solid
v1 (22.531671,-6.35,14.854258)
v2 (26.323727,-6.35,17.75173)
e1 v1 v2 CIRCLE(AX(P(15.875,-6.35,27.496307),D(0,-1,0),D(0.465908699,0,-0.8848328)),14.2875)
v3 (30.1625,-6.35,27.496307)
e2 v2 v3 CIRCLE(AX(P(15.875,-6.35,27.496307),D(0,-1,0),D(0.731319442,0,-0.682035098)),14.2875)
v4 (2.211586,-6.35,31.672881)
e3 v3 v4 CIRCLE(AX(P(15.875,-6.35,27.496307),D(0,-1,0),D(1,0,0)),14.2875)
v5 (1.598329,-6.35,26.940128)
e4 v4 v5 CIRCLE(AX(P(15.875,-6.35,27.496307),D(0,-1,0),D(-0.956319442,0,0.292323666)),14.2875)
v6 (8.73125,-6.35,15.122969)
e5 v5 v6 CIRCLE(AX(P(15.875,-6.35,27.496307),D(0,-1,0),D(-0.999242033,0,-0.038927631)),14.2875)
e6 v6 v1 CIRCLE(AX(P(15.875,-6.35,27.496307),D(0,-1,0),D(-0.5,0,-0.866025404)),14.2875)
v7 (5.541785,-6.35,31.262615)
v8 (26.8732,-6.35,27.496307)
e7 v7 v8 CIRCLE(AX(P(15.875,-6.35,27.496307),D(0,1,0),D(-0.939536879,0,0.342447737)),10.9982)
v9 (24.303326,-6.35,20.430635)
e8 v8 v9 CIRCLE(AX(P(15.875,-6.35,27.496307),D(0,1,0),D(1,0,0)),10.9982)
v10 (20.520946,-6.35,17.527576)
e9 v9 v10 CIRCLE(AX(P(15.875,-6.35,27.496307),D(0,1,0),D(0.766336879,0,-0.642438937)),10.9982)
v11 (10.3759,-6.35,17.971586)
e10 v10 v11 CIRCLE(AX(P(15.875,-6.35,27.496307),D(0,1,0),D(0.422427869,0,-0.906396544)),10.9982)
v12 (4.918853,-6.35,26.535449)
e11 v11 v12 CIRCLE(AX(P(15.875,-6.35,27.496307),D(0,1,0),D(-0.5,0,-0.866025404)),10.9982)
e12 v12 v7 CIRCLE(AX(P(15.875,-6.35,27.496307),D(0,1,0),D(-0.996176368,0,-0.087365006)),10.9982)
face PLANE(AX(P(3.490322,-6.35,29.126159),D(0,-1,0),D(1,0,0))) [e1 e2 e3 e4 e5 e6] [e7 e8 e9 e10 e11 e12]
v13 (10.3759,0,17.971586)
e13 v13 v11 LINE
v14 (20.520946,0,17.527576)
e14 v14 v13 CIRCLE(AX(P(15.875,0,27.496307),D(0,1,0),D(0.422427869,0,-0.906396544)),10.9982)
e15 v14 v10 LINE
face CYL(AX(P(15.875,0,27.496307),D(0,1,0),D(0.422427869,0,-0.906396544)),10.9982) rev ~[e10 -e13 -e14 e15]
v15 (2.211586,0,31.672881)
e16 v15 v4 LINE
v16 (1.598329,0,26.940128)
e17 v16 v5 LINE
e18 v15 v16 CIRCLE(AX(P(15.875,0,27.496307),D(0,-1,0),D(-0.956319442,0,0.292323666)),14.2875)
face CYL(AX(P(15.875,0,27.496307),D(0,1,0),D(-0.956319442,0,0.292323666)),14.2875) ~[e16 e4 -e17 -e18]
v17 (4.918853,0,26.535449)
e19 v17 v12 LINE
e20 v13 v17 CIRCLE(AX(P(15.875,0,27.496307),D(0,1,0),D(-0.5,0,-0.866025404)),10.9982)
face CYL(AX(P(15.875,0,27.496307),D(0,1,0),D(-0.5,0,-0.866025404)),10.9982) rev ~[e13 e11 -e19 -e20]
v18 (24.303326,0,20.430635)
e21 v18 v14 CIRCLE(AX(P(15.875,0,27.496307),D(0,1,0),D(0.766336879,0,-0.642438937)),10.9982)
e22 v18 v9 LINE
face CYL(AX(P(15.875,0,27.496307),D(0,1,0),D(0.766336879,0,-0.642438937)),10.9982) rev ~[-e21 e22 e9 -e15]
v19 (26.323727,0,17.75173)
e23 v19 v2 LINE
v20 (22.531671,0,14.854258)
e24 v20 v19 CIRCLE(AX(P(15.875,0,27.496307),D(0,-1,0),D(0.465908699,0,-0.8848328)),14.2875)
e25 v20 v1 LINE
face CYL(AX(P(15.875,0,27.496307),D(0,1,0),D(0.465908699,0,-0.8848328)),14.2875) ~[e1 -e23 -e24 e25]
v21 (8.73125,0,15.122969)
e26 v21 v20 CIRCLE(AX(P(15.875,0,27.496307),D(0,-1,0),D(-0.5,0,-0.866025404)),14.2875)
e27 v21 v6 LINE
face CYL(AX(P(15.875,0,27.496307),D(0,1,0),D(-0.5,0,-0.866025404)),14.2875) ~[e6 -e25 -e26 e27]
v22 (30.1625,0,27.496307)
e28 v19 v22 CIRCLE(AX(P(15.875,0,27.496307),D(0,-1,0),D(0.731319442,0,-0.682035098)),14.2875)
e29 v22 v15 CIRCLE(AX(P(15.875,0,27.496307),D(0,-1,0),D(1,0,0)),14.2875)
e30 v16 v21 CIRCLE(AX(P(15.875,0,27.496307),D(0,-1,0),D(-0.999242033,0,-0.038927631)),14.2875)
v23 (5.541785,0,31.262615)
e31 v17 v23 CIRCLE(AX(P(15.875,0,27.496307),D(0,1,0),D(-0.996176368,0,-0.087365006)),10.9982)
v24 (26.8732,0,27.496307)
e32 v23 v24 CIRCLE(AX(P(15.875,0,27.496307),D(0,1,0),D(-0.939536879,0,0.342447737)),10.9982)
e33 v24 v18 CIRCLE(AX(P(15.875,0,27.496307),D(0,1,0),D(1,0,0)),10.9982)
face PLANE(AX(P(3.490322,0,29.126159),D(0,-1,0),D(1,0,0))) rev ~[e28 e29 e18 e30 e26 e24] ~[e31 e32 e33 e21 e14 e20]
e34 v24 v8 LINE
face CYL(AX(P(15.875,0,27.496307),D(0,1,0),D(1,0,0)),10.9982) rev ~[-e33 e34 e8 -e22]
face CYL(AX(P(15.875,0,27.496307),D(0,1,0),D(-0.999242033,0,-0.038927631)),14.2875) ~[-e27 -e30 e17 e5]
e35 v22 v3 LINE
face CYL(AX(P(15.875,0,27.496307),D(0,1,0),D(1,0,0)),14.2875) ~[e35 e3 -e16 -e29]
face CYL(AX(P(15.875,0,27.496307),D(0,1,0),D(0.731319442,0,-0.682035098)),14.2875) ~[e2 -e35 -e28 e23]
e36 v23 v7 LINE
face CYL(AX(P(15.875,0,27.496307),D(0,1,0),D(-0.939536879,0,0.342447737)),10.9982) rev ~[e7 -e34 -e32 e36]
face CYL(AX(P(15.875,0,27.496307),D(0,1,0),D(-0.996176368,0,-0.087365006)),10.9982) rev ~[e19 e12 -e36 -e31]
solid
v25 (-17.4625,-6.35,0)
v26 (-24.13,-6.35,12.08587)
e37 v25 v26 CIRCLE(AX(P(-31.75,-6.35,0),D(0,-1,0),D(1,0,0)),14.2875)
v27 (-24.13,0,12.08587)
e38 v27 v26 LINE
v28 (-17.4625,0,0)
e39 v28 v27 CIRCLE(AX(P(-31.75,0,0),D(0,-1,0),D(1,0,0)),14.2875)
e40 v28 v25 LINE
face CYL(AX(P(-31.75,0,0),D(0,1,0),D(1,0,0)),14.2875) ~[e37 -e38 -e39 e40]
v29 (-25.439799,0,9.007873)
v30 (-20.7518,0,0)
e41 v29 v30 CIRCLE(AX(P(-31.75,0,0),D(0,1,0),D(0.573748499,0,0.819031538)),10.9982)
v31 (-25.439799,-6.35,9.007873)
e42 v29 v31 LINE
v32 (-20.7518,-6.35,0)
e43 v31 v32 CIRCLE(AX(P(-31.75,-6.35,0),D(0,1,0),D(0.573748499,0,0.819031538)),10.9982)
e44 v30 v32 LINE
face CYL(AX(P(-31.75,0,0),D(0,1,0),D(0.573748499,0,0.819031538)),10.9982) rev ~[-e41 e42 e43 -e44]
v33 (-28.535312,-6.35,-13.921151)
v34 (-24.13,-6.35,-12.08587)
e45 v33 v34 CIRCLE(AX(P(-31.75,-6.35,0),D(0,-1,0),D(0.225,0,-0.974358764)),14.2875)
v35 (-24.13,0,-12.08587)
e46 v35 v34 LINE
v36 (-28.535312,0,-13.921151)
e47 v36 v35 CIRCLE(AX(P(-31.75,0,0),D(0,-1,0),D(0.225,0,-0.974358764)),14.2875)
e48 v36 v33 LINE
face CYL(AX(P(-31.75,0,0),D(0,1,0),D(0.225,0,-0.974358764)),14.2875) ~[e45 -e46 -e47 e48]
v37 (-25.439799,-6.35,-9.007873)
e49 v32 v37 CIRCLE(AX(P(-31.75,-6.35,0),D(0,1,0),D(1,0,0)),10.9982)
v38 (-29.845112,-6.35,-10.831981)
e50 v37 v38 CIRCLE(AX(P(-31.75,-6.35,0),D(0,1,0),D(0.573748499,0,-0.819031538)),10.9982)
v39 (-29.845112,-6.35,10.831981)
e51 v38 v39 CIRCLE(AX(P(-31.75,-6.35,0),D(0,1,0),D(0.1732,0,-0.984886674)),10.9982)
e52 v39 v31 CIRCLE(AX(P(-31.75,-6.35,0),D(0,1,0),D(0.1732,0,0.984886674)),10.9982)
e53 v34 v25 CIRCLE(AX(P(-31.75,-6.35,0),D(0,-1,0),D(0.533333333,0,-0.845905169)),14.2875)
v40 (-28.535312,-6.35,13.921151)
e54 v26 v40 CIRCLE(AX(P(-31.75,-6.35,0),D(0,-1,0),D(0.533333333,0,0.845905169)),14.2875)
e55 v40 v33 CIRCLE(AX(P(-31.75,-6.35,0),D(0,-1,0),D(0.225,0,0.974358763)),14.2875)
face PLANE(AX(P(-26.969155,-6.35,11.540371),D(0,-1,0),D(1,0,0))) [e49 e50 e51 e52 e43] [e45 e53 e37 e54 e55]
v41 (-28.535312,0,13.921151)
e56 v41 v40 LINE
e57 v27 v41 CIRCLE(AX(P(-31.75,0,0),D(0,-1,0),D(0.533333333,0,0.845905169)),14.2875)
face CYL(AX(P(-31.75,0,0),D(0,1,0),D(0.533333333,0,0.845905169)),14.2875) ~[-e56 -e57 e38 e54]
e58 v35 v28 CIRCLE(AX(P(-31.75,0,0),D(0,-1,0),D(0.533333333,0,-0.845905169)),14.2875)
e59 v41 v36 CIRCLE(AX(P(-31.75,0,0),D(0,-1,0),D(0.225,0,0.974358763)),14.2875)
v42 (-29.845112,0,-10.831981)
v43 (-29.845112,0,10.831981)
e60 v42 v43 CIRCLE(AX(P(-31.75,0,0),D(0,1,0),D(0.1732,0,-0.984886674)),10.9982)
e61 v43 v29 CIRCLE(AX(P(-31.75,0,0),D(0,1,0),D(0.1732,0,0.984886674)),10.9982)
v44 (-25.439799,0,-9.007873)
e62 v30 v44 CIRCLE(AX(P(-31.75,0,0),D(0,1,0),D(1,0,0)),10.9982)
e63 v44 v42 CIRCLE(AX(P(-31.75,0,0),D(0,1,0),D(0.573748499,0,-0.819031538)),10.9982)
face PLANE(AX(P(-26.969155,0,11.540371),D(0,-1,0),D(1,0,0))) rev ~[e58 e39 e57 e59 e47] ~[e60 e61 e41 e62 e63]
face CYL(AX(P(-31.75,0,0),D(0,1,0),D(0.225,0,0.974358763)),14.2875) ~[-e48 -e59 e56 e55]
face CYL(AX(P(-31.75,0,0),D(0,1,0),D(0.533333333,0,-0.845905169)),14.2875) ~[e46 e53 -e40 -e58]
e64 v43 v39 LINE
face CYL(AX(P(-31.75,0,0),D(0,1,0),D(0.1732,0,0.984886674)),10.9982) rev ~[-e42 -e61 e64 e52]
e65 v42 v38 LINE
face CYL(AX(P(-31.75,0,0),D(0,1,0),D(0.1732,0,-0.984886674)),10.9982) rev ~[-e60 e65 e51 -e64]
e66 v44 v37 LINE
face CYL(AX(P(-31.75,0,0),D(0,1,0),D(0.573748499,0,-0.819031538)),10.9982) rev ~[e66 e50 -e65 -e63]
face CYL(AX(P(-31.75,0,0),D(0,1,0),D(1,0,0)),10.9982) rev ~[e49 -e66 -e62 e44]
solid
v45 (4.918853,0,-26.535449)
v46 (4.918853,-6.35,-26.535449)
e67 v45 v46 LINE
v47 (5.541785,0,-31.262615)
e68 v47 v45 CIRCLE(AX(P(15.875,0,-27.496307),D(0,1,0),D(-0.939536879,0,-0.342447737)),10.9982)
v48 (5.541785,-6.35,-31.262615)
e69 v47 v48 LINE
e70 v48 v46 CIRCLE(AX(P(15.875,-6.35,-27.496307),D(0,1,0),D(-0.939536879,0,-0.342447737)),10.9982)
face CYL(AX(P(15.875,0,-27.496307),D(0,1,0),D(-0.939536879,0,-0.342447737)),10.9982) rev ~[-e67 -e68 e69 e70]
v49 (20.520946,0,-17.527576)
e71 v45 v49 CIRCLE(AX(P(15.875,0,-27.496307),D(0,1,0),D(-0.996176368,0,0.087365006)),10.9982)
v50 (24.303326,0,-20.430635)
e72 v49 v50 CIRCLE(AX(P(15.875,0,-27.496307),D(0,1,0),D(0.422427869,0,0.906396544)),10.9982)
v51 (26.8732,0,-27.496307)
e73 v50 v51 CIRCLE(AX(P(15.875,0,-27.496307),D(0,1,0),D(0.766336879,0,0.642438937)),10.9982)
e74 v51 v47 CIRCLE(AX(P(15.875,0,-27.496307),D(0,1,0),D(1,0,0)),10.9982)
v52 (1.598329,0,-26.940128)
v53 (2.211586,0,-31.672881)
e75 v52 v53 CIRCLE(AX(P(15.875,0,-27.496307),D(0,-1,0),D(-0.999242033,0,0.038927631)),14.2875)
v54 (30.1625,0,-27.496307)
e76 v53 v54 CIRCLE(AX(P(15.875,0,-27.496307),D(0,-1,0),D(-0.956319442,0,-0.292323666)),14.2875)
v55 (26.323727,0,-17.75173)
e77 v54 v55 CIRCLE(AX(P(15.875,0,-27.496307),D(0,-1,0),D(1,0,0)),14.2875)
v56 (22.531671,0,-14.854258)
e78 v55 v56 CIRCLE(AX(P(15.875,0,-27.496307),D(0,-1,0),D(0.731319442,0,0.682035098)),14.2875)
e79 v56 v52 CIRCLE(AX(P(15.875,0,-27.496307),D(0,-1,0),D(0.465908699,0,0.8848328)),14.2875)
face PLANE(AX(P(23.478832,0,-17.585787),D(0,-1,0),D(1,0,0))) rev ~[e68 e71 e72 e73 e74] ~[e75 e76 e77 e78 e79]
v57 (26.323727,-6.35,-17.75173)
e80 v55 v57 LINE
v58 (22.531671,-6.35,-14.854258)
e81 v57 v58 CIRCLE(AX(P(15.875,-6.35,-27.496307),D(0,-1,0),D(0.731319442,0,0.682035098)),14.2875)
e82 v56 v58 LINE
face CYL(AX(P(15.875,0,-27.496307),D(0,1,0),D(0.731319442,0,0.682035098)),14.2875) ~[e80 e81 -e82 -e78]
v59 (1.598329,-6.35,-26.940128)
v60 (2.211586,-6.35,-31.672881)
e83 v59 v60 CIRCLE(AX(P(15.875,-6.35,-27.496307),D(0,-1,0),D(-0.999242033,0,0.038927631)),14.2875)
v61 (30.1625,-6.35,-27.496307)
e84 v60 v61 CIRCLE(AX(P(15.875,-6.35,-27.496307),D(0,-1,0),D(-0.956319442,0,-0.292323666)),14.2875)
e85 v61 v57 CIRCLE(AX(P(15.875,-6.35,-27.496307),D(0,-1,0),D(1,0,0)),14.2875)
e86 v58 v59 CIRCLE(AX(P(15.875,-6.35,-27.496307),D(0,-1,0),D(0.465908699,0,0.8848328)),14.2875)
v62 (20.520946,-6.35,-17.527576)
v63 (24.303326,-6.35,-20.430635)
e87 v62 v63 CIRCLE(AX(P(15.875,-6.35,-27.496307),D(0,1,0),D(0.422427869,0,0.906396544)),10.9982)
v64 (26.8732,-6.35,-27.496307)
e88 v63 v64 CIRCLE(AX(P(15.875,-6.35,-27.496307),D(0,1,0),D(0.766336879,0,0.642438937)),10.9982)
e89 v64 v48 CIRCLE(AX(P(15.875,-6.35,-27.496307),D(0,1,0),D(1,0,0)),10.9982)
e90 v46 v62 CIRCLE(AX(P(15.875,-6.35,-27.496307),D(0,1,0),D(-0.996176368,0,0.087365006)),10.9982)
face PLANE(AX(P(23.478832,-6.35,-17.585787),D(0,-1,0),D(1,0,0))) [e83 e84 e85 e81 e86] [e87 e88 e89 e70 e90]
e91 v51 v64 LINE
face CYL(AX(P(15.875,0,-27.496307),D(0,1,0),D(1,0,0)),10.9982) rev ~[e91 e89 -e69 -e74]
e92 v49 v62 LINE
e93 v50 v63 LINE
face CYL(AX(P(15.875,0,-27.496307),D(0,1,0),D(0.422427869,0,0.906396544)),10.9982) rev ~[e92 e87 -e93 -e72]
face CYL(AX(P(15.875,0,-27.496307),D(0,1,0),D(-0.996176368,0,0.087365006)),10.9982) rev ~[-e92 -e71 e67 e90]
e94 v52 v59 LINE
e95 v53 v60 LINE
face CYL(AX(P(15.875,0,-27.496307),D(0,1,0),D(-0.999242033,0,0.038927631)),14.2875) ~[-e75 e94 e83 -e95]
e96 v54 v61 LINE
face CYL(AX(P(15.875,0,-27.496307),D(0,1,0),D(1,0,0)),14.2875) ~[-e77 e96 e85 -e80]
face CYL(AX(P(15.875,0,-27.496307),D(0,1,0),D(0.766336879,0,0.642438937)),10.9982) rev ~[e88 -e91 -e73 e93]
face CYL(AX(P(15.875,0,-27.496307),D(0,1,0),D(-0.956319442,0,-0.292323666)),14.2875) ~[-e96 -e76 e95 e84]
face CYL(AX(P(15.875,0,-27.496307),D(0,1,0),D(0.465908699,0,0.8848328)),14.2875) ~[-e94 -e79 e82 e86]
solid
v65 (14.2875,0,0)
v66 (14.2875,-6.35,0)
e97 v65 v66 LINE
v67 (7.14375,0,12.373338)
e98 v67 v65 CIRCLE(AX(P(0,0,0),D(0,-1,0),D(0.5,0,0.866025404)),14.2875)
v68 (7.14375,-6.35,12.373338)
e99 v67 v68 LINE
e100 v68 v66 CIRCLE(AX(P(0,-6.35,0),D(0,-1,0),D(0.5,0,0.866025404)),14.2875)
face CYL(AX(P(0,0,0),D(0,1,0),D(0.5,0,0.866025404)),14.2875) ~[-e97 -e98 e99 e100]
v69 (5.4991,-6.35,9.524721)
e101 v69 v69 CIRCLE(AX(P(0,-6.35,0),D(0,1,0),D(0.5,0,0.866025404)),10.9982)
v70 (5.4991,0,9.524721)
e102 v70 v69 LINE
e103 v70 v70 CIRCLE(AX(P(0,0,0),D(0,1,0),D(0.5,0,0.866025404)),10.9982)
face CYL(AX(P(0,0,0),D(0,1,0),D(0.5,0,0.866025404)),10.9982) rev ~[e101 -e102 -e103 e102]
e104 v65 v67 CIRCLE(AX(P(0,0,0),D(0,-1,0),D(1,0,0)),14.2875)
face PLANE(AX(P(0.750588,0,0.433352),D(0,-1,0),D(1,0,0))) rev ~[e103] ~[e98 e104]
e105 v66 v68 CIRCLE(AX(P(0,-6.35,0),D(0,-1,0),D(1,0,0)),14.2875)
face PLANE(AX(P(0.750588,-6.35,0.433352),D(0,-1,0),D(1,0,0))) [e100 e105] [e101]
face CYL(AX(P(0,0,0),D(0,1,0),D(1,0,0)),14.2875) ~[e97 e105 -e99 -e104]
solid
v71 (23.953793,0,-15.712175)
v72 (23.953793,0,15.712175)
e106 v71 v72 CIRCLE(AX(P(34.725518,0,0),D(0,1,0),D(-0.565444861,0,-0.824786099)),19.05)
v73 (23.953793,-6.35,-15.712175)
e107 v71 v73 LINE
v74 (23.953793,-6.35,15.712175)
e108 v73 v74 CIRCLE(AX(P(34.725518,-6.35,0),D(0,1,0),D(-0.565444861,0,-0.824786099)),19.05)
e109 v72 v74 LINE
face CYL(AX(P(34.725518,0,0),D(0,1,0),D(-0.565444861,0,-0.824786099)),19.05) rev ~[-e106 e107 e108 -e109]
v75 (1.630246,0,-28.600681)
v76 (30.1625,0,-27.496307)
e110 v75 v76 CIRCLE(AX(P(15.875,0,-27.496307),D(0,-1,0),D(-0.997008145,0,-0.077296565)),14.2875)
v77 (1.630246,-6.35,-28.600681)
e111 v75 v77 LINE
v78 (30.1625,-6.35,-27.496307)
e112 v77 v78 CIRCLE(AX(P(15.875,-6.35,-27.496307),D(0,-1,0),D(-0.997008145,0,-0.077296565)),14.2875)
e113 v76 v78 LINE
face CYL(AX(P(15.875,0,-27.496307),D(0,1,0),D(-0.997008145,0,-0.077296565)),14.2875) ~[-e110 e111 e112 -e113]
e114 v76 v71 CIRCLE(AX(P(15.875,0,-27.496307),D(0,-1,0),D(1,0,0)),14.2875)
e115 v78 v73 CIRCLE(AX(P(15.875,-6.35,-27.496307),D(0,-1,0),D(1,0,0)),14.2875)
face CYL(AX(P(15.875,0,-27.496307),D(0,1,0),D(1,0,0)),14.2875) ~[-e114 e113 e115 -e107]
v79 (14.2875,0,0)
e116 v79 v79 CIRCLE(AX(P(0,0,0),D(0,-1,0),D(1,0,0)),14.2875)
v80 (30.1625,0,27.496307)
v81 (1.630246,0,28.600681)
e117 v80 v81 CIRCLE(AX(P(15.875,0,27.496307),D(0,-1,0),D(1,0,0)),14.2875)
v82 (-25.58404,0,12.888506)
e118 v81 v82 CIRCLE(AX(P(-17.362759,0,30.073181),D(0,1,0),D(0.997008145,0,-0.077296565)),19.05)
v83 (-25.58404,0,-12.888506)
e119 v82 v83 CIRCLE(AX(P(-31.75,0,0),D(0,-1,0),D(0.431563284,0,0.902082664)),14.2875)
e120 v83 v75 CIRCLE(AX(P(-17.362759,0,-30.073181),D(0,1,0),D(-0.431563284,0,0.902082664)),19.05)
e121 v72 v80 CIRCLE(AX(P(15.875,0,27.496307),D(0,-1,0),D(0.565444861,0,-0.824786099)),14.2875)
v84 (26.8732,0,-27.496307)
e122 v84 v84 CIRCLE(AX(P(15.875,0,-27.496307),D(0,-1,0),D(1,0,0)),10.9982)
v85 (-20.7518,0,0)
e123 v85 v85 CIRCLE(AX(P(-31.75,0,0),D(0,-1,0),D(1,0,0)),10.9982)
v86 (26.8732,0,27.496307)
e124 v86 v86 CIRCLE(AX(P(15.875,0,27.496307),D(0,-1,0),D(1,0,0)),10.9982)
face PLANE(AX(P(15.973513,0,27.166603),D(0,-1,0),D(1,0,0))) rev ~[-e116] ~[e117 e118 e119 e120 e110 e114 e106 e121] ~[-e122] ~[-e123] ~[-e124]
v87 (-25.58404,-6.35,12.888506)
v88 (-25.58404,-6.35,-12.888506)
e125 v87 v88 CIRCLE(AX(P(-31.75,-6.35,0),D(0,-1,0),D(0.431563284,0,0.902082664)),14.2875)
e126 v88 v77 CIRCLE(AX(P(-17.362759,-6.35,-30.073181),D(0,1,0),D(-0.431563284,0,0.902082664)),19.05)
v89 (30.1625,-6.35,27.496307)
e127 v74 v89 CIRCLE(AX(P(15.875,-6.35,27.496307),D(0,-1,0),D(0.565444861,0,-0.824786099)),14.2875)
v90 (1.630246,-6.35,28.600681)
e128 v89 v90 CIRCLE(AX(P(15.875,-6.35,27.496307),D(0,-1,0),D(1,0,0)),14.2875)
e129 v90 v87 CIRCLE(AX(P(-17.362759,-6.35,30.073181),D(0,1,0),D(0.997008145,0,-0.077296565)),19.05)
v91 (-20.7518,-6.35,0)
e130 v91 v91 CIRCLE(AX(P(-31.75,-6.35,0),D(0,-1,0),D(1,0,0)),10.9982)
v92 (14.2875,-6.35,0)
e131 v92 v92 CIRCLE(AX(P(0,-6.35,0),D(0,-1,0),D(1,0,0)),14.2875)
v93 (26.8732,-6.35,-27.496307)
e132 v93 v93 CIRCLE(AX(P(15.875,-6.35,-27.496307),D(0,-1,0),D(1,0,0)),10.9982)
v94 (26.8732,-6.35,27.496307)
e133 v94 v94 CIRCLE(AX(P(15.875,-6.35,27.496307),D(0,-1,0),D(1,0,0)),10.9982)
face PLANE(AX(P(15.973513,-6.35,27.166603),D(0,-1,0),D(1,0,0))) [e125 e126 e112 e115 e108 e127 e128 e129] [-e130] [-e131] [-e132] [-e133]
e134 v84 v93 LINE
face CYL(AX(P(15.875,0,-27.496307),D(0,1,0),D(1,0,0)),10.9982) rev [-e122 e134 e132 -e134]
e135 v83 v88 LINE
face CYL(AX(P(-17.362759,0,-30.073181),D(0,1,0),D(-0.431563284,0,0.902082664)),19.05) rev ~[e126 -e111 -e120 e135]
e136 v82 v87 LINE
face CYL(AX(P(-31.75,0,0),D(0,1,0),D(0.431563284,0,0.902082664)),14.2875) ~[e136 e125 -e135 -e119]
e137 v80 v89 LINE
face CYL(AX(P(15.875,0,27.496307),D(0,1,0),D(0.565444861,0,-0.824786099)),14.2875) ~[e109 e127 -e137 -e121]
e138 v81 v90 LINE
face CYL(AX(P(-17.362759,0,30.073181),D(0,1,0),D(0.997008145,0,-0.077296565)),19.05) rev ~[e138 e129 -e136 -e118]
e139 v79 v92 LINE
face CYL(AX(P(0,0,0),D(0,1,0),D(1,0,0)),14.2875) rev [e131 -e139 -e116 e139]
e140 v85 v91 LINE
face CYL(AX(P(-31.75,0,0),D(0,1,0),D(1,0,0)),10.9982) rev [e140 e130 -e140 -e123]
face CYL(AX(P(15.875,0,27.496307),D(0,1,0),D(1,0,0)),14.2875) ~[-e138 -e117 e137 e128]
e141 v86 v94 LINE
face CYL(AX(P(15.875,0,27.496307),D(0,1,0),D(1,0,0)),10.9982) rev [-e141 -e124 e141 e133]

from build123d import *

# Parameters (mm, degrees)
F1_R     = 10.9982
F1_R_2   = 14.2875
F2_DEPTH = 6.35


with BuildPart() as f2:
    # F1 (on Front) → F2 (new body)
    with BuildSketch(Plane.XZ):
        with BuildLine():
            ThreePointArc((30.1625, 27.4963065702), (16.4276008155, 41.7731160383), (1.6302461293, 28.6006812411))
            ThreePointArc((1.6302461293, 28.6006812411), (8.73125, 15.1229686136), (23.9537934556, 15.7121751829))
            ThreePointArc((23.9537934556, 15.7121751829), (28.5153800921, 20.8364681805), (30.1625, 27.4963065702))
        make_face()
        with Locations((15.875, 27.4963065702)):
            Circle(F1_R, mode=Mode.SUBTRACT)
        with BuildLine():
            ThreePointArc((23.9537934556, -15.7121751829), (8.73125, -15.1229686136), (1.6302461293, -28.6006812411))
            ThreePointArc((1.6302461293, -28.6006812411), (16.4276008155, -41.7731160383), (30.1625, -27.4963065702))
            ThreePointArc((30.1625, -27.4963065702), (28.5153800921, -20.8364681805), (23.9537934556, -15.7121751829))
        make_face()
        with Locations((15.875, -27.4963065702)):
            Circle(F1_R, mode=Mode.SUBTRACT)
        with BuildLine():
            ThreePointArc((-17.4625, 0), (-19.6622207234, 7.6169710785), (-25.584039585, 12.8885060581))
            ThreePointArc((-25.584039585, 12.8885060581), (-46.0375, 0), (-25.584039585, -12.8885060581))
            ThreePointArc((-25.584039585, -12.8885060581), (-19.6622207234, -7.6169710785), (-17.4625, 0))
        make_face()
        with Locations((-31.75, 0)):
            Circle(F1_R, mode=Mode.SUBTRACT)
        with BuildLine():
            ThreePointArc((1.6302461293, 28.6006812411), (-7.8377590316, 13.5753968602), (-25.584039585, 12.8885060581))
            ThreePointArc((-25.584039585, 12.8885060581), (-19.6622207234, 7.6169710785), (-17.4625, 0))
            ThreePointArc((-17.4625, 0), (-19.6622207234, -7.6169710785), (-25.584039585, -12.8885060581))
            ThreePointArc((-25.584039585, -12.8885060581), (-7.8377590316, -13.5753968602), (1.6302461293, -28.6006812411))
            ThreePointArc((1.6302461293, -28.6006812411), (8.73125, -15.1229686136), (23.9537934556, -15.7121751829))
            ThreePointArc((23.9537934556, -15.7121751829), (15.6755180632, 0), (23.9537934556, 15.7121751829))
            ThreePointArc((23.9537934556, 15.7121751829), (8.73125, 15.1229686136), (1.6302461293, 28.6006812411))
        make_face()
        Circle(F1_R_2, mode=Mode.SUBTRACT)
    extrude(amount=F2_DEPTH)


with BuildPart() as f2b:
    # F0 (on Front) → F2, piece 2 (new body)
    with BuildSketch(Plane.XZ):
        with BuildLine():
            ThreePointArc((-25.43979926, 9.0078726601), (-24.8326351147, 10.5671845593), (-24.13, 12.0858701073))
            ThreePointArc((-24.13, 12.0858701073), (-26.2554866329, 13.1887444099), (-28.5353125, 13.9211508334))
            ThreePointArc((-28.5353125, 13.9211508334), (-29.2310490293, 12.3938804515), (-29.84511176, 10.8319806145))
            ThreePointArc((-29.84511176, 10.8319806145), (-27.5424158719, 10.1615273973), (-25.43979926, 9.0078726601))
        make_face()
        with BuildLine():
            ThreePointArc((-29.84511176, 10.8319806145), (-29.2310490293, 12.3938804515), (-28.5353125, 13.9211508334))
            ThreePointArc((-28.5353125, 13.9211508334), (-46.0375, 0), (-28.5353125, -13.9211508334))
            ThreePointArc((-28.5353125, -13.9211508334), (-29.2310490293, -12.3938804515), (-29.84511176, -10.8319806145))
            ThreePointArc((-29.84511176, -10.8319806145), (-42.7482, 0), (-29.84511176, 10.8319806145))
        make_face()
        with BuildLine():
            ThreePointArc((-29.84511176, -10.8319806145), (-29.2310490293, -12.3938804515), (-28.5353125, -13.9211508334))
            ThreePointArc((-28.5353125, -13.9211508334), (-26.2554866329, -13.1887444099), (-24.13, -12.0858701073))
            ThreePointArc((-24.13, -12.0858701073), (-24.8326351147, -10.5671845593), (-25.43979926, -9.0078726601))
            ThreePointArc((-25.43979926, -9.0078726601), (-27.5424158719, -10.1615273973), (-29.84511176, -10.8319806145))
        make_face()
        with BuildLine():
            ThreePointArc((-17.4625, 0), (-19.2399359264, 6.9015181754), (-24.13, 12.0858701073))
            ThreePointArc((-24.13, 12.0858701073), (-24.8326351147, 10.5671845593), (-25.43979926, 9.0078726601))
            ThreePointArc((-25.43979926, 9.0078726601), (-21.993944111, 5.0773789233), (-20.7518, 0))
            ThreePointArc((-20.7518, 0), (-21.993944111, -5.0773789233), (-25.43979926, -9.0078726601))
            ThreePointArc((-25.43979926, -9.0078726601), (-24.8326351147, -10.5671845593), (-24.13, -12.0858701073))
            ThreePointArc((-24.13, -12.0858701073), (-19.2399359264, -6.9015181754), (-17.4625, 0))
        make_face()
    extrude(amount=F2_DEPTH)


with BuildPart() as f2c:
    # F0 (on Front) → F2, piece 3 (new body)
    with BuildSketch(Plane.XZ):
        with BuildLine():
            ThreePointArc((7.14375, 12.3733379566), (-12.3733379566, -7.14375), (14.2875, 0))
            ThreePointArc((14.2875, 0), (12.3733379566, 7.14375), (7.14375, 12.3733379566))
        make_face()
        with BuildLine():
            ThreePointArc((10.9982, 0), (-9.5247205959, -5.4991), (5.4991, 9.5247205959))
            ThreePointArc((5.4991, 9.5247205959), (9.5247205959, 5.4991), (10.9982, 0))
        make_face(mode=Mode.SUBTRACT)
    extrude(amount=F2_DEPTH)


with BuildPart() as f2d:
    # F0 (on Front) → F2, piece 4 (new body)
    with BuildSketch(Plane.XZ):
        with BuildLine():
            ThreePointArc((2.2115859783, 31.6728809466), (1.7059556135, 29.3322906177), (1.5983294603, 26.940128047))
            ThreePointArc((1.5983294603, 26.940128047), (3.2648672826, 26.7892851319), (4.9188530723, 26.5354487564))
            ThreePointArc((4.9188530723, 26.5354487564), (4.9710670687, 28.9331955253), (5.5417854945, 31.2626152702))
            ThreePointArc((5.5417854945, 31.2626152702), (3.8821091922, 31.5117712644), (2.2115859783, 31.6728809466))
        make_face()
        with BuildLine():
            ThreePointArc((1.5983294603, 26.940128047), (3.6430778987, 20.1130323672), (8.73125, 15.1229686136))
            Line((8.73125, 15.1229686136), (10.3759, 17.9715859743))
            ThreePointArc((10.3759, 17.9715859743), (6.5998329233, 21.5860037912), (4.9188530723, 26.5354487564))
            ThreePointArc((4.9188530723, 26.5354487564), (3.2648672826, 26.7892851319), (1.5983294603, 26.940128047))
        make_face()
        with BuildLine():
            Line((10.3759, 17.9715859743), (8.73125, 15.1229686136))
            ThreePointArc((8.73125, 15.1229686136), (15.5968580278, 13.2115141918), (22.5316705397, 14.8542579397))
            ThreePointArc((22.5316705397, 14.8542579397), (21.5677678322, 16.2221005726), (20.5209461877, 17.5275760963))
            ThreePointArc((20.5209461877, 17.5275760963), (15.3941111877, 16.5086248679), (10.3759, 17.9715859743))
        make_face()
        with BuildLine():
            ThreePointArc((20.5209461877, 17.5275760963), (21.5677678322, 16.2221005726), (22.5316705397, 14.8542579397))
            ThreePointArc((22.5316705397, 14.8542579397), (24.5495310194, 16.1435462079), (26.3237265217, 17.7517301132))
            ThreePointArc((26.3237265217, 17.7517301132), (25.3489398371, 19.1178908129), (24.3033262655, 20.4306346557))
            ThreePointArc((24.3033262655, 20.4306346557), (22.5713488033, 18.7716681281), (20.5209461877, 17.5275760963))
        make_face()
        with BuildLine():
            ThreePointArc((30.1625, 27.4963065702), (17.9864720476, 41.6269237556), (2.2115859783, 31.6728809466))
            ThreePointArc((2.2115859783, 31.6728809466), (3.8821091922, 31.5117712644), (5.5417854945, 31.2626152702))
            ThreePointArc((5.5417854945, 31.2626152702), (17.7872818132, 38.3269843655), (26.8732, 27.4963065702))
            ThreePointArc((26.8732, 27.4963065702), (26.2107830176, 23.7370523019), (24.3033262655, 20.4306346557))
            ThreePointArc((24.3033262655, 20.4306346557), (25.3489398371, 19.1178908129), (26.3237265217, 17.7517301132))
            ThreePointArc((26.3237265217, 17.7517301132), (29.1682094776, 22.25958641), (30.1625, 27.4963065702))
        make_face()
    extrude(amount=F2_DEPTH)


with BuildPart() as f2e:
    # F0 (on Front) → F2, piece 5 (new body)
    with BuildSketch(Plane.XZ):
        with BuildLine():
            ThreePointArc((26.3237265217, -17.7517301132), (24.5495310194, -16.1435462079), (22.5316705397, -14.8542579397))
            ThreePointArc((22.5316705397, -14.8542579397), (21.5677678322, -16.2221005726), (20.5209461877, -17.5275760963))
            ThreePointArc((20.5209461877, -17.5275760963), (22.5713488033, -18.7716681281), (24.3033262655, -20.4306346557))
            ThreePointArc((24.3033262655, -20.4306346557), (25.3489398371, -19.1178908129), (26.3237265217, -17.7517301132))
        make_face()
        with BuildLine():
            ThreePointArc((20.5209461877, -17.5275760963), (21.5677678322, -16.2221005726), (22.5316705397, -14.8542579397))
            ThreePointArc((22.5316705397, -14.8542579397), (8.73125, -15.1229686136), (1.5983294603, -26.940128047))
            ThreePointArc((1.5983294603, -26.940128047), (3.2648672826, -26.7892851319), (4.9188530723, -26.5354487564))
            ThreePointArc((4.9188530723, -26.5354487564), (10.3759, -17.9715859743), (20.5209461877, -17.5275760963))
        make_face()
        with BuildLine():
            ThreePointArc((4.9188530723, -26.5354487564), (3.2648672826, -26.7892851319), (1.5983294603, -26.940128047))
            ThreePointArc((1.5983294603, -26.940128047), (1.7059556135, -29.3322906177), (2.2115859783, -31.6728809466))
            ThreePointArc((2.2115859783, -31.6728809466), (3.8821091922, -31.5117712644), (5.5417854945, -31.2626152702))
            ThreePointArc((5.5417854945, -31.2626152702), (4.9710670687, -28.9331955253), (4.9188530723, -26.5354487564))
        make_face()
        with BuildLine():
            ThreePointArc((30.1625, -27.4963065702), (29.1682094776, -22.25958641), (26.3237265217, -17.7517301132))
            ThreePointArc((26.3237265217, -17.7517301132), (25.3489398371, -19.1178908129), (24.3033262655, -20.4306346557))
            ThreePointArc((24.3033262655, -20.4306346557), (26.2107830176, -23.7370523019), (26.8732, -27.4963065702))
            ThreePointArc((26.8732, -27.4963065702), (17.7872818132, -38.3269843655), (5.5417854945, -31.2626152702))
            ThreePointArc((5.5417854945, -31.2626152702), (3.8821091922, -31.5117712644), (2.2115859783, -31.6728809466))
            ThreePointArc((2.2115859783, -31.6728809466), (17.9864720476, -41.6269237556), (30.1625, -27.4963065702))
        make_face()
    extrude(amount=F2_DEPTH)


solid = Compound([f2.part, f2b.part, f2c.part, f2d.part, f2e.part])
